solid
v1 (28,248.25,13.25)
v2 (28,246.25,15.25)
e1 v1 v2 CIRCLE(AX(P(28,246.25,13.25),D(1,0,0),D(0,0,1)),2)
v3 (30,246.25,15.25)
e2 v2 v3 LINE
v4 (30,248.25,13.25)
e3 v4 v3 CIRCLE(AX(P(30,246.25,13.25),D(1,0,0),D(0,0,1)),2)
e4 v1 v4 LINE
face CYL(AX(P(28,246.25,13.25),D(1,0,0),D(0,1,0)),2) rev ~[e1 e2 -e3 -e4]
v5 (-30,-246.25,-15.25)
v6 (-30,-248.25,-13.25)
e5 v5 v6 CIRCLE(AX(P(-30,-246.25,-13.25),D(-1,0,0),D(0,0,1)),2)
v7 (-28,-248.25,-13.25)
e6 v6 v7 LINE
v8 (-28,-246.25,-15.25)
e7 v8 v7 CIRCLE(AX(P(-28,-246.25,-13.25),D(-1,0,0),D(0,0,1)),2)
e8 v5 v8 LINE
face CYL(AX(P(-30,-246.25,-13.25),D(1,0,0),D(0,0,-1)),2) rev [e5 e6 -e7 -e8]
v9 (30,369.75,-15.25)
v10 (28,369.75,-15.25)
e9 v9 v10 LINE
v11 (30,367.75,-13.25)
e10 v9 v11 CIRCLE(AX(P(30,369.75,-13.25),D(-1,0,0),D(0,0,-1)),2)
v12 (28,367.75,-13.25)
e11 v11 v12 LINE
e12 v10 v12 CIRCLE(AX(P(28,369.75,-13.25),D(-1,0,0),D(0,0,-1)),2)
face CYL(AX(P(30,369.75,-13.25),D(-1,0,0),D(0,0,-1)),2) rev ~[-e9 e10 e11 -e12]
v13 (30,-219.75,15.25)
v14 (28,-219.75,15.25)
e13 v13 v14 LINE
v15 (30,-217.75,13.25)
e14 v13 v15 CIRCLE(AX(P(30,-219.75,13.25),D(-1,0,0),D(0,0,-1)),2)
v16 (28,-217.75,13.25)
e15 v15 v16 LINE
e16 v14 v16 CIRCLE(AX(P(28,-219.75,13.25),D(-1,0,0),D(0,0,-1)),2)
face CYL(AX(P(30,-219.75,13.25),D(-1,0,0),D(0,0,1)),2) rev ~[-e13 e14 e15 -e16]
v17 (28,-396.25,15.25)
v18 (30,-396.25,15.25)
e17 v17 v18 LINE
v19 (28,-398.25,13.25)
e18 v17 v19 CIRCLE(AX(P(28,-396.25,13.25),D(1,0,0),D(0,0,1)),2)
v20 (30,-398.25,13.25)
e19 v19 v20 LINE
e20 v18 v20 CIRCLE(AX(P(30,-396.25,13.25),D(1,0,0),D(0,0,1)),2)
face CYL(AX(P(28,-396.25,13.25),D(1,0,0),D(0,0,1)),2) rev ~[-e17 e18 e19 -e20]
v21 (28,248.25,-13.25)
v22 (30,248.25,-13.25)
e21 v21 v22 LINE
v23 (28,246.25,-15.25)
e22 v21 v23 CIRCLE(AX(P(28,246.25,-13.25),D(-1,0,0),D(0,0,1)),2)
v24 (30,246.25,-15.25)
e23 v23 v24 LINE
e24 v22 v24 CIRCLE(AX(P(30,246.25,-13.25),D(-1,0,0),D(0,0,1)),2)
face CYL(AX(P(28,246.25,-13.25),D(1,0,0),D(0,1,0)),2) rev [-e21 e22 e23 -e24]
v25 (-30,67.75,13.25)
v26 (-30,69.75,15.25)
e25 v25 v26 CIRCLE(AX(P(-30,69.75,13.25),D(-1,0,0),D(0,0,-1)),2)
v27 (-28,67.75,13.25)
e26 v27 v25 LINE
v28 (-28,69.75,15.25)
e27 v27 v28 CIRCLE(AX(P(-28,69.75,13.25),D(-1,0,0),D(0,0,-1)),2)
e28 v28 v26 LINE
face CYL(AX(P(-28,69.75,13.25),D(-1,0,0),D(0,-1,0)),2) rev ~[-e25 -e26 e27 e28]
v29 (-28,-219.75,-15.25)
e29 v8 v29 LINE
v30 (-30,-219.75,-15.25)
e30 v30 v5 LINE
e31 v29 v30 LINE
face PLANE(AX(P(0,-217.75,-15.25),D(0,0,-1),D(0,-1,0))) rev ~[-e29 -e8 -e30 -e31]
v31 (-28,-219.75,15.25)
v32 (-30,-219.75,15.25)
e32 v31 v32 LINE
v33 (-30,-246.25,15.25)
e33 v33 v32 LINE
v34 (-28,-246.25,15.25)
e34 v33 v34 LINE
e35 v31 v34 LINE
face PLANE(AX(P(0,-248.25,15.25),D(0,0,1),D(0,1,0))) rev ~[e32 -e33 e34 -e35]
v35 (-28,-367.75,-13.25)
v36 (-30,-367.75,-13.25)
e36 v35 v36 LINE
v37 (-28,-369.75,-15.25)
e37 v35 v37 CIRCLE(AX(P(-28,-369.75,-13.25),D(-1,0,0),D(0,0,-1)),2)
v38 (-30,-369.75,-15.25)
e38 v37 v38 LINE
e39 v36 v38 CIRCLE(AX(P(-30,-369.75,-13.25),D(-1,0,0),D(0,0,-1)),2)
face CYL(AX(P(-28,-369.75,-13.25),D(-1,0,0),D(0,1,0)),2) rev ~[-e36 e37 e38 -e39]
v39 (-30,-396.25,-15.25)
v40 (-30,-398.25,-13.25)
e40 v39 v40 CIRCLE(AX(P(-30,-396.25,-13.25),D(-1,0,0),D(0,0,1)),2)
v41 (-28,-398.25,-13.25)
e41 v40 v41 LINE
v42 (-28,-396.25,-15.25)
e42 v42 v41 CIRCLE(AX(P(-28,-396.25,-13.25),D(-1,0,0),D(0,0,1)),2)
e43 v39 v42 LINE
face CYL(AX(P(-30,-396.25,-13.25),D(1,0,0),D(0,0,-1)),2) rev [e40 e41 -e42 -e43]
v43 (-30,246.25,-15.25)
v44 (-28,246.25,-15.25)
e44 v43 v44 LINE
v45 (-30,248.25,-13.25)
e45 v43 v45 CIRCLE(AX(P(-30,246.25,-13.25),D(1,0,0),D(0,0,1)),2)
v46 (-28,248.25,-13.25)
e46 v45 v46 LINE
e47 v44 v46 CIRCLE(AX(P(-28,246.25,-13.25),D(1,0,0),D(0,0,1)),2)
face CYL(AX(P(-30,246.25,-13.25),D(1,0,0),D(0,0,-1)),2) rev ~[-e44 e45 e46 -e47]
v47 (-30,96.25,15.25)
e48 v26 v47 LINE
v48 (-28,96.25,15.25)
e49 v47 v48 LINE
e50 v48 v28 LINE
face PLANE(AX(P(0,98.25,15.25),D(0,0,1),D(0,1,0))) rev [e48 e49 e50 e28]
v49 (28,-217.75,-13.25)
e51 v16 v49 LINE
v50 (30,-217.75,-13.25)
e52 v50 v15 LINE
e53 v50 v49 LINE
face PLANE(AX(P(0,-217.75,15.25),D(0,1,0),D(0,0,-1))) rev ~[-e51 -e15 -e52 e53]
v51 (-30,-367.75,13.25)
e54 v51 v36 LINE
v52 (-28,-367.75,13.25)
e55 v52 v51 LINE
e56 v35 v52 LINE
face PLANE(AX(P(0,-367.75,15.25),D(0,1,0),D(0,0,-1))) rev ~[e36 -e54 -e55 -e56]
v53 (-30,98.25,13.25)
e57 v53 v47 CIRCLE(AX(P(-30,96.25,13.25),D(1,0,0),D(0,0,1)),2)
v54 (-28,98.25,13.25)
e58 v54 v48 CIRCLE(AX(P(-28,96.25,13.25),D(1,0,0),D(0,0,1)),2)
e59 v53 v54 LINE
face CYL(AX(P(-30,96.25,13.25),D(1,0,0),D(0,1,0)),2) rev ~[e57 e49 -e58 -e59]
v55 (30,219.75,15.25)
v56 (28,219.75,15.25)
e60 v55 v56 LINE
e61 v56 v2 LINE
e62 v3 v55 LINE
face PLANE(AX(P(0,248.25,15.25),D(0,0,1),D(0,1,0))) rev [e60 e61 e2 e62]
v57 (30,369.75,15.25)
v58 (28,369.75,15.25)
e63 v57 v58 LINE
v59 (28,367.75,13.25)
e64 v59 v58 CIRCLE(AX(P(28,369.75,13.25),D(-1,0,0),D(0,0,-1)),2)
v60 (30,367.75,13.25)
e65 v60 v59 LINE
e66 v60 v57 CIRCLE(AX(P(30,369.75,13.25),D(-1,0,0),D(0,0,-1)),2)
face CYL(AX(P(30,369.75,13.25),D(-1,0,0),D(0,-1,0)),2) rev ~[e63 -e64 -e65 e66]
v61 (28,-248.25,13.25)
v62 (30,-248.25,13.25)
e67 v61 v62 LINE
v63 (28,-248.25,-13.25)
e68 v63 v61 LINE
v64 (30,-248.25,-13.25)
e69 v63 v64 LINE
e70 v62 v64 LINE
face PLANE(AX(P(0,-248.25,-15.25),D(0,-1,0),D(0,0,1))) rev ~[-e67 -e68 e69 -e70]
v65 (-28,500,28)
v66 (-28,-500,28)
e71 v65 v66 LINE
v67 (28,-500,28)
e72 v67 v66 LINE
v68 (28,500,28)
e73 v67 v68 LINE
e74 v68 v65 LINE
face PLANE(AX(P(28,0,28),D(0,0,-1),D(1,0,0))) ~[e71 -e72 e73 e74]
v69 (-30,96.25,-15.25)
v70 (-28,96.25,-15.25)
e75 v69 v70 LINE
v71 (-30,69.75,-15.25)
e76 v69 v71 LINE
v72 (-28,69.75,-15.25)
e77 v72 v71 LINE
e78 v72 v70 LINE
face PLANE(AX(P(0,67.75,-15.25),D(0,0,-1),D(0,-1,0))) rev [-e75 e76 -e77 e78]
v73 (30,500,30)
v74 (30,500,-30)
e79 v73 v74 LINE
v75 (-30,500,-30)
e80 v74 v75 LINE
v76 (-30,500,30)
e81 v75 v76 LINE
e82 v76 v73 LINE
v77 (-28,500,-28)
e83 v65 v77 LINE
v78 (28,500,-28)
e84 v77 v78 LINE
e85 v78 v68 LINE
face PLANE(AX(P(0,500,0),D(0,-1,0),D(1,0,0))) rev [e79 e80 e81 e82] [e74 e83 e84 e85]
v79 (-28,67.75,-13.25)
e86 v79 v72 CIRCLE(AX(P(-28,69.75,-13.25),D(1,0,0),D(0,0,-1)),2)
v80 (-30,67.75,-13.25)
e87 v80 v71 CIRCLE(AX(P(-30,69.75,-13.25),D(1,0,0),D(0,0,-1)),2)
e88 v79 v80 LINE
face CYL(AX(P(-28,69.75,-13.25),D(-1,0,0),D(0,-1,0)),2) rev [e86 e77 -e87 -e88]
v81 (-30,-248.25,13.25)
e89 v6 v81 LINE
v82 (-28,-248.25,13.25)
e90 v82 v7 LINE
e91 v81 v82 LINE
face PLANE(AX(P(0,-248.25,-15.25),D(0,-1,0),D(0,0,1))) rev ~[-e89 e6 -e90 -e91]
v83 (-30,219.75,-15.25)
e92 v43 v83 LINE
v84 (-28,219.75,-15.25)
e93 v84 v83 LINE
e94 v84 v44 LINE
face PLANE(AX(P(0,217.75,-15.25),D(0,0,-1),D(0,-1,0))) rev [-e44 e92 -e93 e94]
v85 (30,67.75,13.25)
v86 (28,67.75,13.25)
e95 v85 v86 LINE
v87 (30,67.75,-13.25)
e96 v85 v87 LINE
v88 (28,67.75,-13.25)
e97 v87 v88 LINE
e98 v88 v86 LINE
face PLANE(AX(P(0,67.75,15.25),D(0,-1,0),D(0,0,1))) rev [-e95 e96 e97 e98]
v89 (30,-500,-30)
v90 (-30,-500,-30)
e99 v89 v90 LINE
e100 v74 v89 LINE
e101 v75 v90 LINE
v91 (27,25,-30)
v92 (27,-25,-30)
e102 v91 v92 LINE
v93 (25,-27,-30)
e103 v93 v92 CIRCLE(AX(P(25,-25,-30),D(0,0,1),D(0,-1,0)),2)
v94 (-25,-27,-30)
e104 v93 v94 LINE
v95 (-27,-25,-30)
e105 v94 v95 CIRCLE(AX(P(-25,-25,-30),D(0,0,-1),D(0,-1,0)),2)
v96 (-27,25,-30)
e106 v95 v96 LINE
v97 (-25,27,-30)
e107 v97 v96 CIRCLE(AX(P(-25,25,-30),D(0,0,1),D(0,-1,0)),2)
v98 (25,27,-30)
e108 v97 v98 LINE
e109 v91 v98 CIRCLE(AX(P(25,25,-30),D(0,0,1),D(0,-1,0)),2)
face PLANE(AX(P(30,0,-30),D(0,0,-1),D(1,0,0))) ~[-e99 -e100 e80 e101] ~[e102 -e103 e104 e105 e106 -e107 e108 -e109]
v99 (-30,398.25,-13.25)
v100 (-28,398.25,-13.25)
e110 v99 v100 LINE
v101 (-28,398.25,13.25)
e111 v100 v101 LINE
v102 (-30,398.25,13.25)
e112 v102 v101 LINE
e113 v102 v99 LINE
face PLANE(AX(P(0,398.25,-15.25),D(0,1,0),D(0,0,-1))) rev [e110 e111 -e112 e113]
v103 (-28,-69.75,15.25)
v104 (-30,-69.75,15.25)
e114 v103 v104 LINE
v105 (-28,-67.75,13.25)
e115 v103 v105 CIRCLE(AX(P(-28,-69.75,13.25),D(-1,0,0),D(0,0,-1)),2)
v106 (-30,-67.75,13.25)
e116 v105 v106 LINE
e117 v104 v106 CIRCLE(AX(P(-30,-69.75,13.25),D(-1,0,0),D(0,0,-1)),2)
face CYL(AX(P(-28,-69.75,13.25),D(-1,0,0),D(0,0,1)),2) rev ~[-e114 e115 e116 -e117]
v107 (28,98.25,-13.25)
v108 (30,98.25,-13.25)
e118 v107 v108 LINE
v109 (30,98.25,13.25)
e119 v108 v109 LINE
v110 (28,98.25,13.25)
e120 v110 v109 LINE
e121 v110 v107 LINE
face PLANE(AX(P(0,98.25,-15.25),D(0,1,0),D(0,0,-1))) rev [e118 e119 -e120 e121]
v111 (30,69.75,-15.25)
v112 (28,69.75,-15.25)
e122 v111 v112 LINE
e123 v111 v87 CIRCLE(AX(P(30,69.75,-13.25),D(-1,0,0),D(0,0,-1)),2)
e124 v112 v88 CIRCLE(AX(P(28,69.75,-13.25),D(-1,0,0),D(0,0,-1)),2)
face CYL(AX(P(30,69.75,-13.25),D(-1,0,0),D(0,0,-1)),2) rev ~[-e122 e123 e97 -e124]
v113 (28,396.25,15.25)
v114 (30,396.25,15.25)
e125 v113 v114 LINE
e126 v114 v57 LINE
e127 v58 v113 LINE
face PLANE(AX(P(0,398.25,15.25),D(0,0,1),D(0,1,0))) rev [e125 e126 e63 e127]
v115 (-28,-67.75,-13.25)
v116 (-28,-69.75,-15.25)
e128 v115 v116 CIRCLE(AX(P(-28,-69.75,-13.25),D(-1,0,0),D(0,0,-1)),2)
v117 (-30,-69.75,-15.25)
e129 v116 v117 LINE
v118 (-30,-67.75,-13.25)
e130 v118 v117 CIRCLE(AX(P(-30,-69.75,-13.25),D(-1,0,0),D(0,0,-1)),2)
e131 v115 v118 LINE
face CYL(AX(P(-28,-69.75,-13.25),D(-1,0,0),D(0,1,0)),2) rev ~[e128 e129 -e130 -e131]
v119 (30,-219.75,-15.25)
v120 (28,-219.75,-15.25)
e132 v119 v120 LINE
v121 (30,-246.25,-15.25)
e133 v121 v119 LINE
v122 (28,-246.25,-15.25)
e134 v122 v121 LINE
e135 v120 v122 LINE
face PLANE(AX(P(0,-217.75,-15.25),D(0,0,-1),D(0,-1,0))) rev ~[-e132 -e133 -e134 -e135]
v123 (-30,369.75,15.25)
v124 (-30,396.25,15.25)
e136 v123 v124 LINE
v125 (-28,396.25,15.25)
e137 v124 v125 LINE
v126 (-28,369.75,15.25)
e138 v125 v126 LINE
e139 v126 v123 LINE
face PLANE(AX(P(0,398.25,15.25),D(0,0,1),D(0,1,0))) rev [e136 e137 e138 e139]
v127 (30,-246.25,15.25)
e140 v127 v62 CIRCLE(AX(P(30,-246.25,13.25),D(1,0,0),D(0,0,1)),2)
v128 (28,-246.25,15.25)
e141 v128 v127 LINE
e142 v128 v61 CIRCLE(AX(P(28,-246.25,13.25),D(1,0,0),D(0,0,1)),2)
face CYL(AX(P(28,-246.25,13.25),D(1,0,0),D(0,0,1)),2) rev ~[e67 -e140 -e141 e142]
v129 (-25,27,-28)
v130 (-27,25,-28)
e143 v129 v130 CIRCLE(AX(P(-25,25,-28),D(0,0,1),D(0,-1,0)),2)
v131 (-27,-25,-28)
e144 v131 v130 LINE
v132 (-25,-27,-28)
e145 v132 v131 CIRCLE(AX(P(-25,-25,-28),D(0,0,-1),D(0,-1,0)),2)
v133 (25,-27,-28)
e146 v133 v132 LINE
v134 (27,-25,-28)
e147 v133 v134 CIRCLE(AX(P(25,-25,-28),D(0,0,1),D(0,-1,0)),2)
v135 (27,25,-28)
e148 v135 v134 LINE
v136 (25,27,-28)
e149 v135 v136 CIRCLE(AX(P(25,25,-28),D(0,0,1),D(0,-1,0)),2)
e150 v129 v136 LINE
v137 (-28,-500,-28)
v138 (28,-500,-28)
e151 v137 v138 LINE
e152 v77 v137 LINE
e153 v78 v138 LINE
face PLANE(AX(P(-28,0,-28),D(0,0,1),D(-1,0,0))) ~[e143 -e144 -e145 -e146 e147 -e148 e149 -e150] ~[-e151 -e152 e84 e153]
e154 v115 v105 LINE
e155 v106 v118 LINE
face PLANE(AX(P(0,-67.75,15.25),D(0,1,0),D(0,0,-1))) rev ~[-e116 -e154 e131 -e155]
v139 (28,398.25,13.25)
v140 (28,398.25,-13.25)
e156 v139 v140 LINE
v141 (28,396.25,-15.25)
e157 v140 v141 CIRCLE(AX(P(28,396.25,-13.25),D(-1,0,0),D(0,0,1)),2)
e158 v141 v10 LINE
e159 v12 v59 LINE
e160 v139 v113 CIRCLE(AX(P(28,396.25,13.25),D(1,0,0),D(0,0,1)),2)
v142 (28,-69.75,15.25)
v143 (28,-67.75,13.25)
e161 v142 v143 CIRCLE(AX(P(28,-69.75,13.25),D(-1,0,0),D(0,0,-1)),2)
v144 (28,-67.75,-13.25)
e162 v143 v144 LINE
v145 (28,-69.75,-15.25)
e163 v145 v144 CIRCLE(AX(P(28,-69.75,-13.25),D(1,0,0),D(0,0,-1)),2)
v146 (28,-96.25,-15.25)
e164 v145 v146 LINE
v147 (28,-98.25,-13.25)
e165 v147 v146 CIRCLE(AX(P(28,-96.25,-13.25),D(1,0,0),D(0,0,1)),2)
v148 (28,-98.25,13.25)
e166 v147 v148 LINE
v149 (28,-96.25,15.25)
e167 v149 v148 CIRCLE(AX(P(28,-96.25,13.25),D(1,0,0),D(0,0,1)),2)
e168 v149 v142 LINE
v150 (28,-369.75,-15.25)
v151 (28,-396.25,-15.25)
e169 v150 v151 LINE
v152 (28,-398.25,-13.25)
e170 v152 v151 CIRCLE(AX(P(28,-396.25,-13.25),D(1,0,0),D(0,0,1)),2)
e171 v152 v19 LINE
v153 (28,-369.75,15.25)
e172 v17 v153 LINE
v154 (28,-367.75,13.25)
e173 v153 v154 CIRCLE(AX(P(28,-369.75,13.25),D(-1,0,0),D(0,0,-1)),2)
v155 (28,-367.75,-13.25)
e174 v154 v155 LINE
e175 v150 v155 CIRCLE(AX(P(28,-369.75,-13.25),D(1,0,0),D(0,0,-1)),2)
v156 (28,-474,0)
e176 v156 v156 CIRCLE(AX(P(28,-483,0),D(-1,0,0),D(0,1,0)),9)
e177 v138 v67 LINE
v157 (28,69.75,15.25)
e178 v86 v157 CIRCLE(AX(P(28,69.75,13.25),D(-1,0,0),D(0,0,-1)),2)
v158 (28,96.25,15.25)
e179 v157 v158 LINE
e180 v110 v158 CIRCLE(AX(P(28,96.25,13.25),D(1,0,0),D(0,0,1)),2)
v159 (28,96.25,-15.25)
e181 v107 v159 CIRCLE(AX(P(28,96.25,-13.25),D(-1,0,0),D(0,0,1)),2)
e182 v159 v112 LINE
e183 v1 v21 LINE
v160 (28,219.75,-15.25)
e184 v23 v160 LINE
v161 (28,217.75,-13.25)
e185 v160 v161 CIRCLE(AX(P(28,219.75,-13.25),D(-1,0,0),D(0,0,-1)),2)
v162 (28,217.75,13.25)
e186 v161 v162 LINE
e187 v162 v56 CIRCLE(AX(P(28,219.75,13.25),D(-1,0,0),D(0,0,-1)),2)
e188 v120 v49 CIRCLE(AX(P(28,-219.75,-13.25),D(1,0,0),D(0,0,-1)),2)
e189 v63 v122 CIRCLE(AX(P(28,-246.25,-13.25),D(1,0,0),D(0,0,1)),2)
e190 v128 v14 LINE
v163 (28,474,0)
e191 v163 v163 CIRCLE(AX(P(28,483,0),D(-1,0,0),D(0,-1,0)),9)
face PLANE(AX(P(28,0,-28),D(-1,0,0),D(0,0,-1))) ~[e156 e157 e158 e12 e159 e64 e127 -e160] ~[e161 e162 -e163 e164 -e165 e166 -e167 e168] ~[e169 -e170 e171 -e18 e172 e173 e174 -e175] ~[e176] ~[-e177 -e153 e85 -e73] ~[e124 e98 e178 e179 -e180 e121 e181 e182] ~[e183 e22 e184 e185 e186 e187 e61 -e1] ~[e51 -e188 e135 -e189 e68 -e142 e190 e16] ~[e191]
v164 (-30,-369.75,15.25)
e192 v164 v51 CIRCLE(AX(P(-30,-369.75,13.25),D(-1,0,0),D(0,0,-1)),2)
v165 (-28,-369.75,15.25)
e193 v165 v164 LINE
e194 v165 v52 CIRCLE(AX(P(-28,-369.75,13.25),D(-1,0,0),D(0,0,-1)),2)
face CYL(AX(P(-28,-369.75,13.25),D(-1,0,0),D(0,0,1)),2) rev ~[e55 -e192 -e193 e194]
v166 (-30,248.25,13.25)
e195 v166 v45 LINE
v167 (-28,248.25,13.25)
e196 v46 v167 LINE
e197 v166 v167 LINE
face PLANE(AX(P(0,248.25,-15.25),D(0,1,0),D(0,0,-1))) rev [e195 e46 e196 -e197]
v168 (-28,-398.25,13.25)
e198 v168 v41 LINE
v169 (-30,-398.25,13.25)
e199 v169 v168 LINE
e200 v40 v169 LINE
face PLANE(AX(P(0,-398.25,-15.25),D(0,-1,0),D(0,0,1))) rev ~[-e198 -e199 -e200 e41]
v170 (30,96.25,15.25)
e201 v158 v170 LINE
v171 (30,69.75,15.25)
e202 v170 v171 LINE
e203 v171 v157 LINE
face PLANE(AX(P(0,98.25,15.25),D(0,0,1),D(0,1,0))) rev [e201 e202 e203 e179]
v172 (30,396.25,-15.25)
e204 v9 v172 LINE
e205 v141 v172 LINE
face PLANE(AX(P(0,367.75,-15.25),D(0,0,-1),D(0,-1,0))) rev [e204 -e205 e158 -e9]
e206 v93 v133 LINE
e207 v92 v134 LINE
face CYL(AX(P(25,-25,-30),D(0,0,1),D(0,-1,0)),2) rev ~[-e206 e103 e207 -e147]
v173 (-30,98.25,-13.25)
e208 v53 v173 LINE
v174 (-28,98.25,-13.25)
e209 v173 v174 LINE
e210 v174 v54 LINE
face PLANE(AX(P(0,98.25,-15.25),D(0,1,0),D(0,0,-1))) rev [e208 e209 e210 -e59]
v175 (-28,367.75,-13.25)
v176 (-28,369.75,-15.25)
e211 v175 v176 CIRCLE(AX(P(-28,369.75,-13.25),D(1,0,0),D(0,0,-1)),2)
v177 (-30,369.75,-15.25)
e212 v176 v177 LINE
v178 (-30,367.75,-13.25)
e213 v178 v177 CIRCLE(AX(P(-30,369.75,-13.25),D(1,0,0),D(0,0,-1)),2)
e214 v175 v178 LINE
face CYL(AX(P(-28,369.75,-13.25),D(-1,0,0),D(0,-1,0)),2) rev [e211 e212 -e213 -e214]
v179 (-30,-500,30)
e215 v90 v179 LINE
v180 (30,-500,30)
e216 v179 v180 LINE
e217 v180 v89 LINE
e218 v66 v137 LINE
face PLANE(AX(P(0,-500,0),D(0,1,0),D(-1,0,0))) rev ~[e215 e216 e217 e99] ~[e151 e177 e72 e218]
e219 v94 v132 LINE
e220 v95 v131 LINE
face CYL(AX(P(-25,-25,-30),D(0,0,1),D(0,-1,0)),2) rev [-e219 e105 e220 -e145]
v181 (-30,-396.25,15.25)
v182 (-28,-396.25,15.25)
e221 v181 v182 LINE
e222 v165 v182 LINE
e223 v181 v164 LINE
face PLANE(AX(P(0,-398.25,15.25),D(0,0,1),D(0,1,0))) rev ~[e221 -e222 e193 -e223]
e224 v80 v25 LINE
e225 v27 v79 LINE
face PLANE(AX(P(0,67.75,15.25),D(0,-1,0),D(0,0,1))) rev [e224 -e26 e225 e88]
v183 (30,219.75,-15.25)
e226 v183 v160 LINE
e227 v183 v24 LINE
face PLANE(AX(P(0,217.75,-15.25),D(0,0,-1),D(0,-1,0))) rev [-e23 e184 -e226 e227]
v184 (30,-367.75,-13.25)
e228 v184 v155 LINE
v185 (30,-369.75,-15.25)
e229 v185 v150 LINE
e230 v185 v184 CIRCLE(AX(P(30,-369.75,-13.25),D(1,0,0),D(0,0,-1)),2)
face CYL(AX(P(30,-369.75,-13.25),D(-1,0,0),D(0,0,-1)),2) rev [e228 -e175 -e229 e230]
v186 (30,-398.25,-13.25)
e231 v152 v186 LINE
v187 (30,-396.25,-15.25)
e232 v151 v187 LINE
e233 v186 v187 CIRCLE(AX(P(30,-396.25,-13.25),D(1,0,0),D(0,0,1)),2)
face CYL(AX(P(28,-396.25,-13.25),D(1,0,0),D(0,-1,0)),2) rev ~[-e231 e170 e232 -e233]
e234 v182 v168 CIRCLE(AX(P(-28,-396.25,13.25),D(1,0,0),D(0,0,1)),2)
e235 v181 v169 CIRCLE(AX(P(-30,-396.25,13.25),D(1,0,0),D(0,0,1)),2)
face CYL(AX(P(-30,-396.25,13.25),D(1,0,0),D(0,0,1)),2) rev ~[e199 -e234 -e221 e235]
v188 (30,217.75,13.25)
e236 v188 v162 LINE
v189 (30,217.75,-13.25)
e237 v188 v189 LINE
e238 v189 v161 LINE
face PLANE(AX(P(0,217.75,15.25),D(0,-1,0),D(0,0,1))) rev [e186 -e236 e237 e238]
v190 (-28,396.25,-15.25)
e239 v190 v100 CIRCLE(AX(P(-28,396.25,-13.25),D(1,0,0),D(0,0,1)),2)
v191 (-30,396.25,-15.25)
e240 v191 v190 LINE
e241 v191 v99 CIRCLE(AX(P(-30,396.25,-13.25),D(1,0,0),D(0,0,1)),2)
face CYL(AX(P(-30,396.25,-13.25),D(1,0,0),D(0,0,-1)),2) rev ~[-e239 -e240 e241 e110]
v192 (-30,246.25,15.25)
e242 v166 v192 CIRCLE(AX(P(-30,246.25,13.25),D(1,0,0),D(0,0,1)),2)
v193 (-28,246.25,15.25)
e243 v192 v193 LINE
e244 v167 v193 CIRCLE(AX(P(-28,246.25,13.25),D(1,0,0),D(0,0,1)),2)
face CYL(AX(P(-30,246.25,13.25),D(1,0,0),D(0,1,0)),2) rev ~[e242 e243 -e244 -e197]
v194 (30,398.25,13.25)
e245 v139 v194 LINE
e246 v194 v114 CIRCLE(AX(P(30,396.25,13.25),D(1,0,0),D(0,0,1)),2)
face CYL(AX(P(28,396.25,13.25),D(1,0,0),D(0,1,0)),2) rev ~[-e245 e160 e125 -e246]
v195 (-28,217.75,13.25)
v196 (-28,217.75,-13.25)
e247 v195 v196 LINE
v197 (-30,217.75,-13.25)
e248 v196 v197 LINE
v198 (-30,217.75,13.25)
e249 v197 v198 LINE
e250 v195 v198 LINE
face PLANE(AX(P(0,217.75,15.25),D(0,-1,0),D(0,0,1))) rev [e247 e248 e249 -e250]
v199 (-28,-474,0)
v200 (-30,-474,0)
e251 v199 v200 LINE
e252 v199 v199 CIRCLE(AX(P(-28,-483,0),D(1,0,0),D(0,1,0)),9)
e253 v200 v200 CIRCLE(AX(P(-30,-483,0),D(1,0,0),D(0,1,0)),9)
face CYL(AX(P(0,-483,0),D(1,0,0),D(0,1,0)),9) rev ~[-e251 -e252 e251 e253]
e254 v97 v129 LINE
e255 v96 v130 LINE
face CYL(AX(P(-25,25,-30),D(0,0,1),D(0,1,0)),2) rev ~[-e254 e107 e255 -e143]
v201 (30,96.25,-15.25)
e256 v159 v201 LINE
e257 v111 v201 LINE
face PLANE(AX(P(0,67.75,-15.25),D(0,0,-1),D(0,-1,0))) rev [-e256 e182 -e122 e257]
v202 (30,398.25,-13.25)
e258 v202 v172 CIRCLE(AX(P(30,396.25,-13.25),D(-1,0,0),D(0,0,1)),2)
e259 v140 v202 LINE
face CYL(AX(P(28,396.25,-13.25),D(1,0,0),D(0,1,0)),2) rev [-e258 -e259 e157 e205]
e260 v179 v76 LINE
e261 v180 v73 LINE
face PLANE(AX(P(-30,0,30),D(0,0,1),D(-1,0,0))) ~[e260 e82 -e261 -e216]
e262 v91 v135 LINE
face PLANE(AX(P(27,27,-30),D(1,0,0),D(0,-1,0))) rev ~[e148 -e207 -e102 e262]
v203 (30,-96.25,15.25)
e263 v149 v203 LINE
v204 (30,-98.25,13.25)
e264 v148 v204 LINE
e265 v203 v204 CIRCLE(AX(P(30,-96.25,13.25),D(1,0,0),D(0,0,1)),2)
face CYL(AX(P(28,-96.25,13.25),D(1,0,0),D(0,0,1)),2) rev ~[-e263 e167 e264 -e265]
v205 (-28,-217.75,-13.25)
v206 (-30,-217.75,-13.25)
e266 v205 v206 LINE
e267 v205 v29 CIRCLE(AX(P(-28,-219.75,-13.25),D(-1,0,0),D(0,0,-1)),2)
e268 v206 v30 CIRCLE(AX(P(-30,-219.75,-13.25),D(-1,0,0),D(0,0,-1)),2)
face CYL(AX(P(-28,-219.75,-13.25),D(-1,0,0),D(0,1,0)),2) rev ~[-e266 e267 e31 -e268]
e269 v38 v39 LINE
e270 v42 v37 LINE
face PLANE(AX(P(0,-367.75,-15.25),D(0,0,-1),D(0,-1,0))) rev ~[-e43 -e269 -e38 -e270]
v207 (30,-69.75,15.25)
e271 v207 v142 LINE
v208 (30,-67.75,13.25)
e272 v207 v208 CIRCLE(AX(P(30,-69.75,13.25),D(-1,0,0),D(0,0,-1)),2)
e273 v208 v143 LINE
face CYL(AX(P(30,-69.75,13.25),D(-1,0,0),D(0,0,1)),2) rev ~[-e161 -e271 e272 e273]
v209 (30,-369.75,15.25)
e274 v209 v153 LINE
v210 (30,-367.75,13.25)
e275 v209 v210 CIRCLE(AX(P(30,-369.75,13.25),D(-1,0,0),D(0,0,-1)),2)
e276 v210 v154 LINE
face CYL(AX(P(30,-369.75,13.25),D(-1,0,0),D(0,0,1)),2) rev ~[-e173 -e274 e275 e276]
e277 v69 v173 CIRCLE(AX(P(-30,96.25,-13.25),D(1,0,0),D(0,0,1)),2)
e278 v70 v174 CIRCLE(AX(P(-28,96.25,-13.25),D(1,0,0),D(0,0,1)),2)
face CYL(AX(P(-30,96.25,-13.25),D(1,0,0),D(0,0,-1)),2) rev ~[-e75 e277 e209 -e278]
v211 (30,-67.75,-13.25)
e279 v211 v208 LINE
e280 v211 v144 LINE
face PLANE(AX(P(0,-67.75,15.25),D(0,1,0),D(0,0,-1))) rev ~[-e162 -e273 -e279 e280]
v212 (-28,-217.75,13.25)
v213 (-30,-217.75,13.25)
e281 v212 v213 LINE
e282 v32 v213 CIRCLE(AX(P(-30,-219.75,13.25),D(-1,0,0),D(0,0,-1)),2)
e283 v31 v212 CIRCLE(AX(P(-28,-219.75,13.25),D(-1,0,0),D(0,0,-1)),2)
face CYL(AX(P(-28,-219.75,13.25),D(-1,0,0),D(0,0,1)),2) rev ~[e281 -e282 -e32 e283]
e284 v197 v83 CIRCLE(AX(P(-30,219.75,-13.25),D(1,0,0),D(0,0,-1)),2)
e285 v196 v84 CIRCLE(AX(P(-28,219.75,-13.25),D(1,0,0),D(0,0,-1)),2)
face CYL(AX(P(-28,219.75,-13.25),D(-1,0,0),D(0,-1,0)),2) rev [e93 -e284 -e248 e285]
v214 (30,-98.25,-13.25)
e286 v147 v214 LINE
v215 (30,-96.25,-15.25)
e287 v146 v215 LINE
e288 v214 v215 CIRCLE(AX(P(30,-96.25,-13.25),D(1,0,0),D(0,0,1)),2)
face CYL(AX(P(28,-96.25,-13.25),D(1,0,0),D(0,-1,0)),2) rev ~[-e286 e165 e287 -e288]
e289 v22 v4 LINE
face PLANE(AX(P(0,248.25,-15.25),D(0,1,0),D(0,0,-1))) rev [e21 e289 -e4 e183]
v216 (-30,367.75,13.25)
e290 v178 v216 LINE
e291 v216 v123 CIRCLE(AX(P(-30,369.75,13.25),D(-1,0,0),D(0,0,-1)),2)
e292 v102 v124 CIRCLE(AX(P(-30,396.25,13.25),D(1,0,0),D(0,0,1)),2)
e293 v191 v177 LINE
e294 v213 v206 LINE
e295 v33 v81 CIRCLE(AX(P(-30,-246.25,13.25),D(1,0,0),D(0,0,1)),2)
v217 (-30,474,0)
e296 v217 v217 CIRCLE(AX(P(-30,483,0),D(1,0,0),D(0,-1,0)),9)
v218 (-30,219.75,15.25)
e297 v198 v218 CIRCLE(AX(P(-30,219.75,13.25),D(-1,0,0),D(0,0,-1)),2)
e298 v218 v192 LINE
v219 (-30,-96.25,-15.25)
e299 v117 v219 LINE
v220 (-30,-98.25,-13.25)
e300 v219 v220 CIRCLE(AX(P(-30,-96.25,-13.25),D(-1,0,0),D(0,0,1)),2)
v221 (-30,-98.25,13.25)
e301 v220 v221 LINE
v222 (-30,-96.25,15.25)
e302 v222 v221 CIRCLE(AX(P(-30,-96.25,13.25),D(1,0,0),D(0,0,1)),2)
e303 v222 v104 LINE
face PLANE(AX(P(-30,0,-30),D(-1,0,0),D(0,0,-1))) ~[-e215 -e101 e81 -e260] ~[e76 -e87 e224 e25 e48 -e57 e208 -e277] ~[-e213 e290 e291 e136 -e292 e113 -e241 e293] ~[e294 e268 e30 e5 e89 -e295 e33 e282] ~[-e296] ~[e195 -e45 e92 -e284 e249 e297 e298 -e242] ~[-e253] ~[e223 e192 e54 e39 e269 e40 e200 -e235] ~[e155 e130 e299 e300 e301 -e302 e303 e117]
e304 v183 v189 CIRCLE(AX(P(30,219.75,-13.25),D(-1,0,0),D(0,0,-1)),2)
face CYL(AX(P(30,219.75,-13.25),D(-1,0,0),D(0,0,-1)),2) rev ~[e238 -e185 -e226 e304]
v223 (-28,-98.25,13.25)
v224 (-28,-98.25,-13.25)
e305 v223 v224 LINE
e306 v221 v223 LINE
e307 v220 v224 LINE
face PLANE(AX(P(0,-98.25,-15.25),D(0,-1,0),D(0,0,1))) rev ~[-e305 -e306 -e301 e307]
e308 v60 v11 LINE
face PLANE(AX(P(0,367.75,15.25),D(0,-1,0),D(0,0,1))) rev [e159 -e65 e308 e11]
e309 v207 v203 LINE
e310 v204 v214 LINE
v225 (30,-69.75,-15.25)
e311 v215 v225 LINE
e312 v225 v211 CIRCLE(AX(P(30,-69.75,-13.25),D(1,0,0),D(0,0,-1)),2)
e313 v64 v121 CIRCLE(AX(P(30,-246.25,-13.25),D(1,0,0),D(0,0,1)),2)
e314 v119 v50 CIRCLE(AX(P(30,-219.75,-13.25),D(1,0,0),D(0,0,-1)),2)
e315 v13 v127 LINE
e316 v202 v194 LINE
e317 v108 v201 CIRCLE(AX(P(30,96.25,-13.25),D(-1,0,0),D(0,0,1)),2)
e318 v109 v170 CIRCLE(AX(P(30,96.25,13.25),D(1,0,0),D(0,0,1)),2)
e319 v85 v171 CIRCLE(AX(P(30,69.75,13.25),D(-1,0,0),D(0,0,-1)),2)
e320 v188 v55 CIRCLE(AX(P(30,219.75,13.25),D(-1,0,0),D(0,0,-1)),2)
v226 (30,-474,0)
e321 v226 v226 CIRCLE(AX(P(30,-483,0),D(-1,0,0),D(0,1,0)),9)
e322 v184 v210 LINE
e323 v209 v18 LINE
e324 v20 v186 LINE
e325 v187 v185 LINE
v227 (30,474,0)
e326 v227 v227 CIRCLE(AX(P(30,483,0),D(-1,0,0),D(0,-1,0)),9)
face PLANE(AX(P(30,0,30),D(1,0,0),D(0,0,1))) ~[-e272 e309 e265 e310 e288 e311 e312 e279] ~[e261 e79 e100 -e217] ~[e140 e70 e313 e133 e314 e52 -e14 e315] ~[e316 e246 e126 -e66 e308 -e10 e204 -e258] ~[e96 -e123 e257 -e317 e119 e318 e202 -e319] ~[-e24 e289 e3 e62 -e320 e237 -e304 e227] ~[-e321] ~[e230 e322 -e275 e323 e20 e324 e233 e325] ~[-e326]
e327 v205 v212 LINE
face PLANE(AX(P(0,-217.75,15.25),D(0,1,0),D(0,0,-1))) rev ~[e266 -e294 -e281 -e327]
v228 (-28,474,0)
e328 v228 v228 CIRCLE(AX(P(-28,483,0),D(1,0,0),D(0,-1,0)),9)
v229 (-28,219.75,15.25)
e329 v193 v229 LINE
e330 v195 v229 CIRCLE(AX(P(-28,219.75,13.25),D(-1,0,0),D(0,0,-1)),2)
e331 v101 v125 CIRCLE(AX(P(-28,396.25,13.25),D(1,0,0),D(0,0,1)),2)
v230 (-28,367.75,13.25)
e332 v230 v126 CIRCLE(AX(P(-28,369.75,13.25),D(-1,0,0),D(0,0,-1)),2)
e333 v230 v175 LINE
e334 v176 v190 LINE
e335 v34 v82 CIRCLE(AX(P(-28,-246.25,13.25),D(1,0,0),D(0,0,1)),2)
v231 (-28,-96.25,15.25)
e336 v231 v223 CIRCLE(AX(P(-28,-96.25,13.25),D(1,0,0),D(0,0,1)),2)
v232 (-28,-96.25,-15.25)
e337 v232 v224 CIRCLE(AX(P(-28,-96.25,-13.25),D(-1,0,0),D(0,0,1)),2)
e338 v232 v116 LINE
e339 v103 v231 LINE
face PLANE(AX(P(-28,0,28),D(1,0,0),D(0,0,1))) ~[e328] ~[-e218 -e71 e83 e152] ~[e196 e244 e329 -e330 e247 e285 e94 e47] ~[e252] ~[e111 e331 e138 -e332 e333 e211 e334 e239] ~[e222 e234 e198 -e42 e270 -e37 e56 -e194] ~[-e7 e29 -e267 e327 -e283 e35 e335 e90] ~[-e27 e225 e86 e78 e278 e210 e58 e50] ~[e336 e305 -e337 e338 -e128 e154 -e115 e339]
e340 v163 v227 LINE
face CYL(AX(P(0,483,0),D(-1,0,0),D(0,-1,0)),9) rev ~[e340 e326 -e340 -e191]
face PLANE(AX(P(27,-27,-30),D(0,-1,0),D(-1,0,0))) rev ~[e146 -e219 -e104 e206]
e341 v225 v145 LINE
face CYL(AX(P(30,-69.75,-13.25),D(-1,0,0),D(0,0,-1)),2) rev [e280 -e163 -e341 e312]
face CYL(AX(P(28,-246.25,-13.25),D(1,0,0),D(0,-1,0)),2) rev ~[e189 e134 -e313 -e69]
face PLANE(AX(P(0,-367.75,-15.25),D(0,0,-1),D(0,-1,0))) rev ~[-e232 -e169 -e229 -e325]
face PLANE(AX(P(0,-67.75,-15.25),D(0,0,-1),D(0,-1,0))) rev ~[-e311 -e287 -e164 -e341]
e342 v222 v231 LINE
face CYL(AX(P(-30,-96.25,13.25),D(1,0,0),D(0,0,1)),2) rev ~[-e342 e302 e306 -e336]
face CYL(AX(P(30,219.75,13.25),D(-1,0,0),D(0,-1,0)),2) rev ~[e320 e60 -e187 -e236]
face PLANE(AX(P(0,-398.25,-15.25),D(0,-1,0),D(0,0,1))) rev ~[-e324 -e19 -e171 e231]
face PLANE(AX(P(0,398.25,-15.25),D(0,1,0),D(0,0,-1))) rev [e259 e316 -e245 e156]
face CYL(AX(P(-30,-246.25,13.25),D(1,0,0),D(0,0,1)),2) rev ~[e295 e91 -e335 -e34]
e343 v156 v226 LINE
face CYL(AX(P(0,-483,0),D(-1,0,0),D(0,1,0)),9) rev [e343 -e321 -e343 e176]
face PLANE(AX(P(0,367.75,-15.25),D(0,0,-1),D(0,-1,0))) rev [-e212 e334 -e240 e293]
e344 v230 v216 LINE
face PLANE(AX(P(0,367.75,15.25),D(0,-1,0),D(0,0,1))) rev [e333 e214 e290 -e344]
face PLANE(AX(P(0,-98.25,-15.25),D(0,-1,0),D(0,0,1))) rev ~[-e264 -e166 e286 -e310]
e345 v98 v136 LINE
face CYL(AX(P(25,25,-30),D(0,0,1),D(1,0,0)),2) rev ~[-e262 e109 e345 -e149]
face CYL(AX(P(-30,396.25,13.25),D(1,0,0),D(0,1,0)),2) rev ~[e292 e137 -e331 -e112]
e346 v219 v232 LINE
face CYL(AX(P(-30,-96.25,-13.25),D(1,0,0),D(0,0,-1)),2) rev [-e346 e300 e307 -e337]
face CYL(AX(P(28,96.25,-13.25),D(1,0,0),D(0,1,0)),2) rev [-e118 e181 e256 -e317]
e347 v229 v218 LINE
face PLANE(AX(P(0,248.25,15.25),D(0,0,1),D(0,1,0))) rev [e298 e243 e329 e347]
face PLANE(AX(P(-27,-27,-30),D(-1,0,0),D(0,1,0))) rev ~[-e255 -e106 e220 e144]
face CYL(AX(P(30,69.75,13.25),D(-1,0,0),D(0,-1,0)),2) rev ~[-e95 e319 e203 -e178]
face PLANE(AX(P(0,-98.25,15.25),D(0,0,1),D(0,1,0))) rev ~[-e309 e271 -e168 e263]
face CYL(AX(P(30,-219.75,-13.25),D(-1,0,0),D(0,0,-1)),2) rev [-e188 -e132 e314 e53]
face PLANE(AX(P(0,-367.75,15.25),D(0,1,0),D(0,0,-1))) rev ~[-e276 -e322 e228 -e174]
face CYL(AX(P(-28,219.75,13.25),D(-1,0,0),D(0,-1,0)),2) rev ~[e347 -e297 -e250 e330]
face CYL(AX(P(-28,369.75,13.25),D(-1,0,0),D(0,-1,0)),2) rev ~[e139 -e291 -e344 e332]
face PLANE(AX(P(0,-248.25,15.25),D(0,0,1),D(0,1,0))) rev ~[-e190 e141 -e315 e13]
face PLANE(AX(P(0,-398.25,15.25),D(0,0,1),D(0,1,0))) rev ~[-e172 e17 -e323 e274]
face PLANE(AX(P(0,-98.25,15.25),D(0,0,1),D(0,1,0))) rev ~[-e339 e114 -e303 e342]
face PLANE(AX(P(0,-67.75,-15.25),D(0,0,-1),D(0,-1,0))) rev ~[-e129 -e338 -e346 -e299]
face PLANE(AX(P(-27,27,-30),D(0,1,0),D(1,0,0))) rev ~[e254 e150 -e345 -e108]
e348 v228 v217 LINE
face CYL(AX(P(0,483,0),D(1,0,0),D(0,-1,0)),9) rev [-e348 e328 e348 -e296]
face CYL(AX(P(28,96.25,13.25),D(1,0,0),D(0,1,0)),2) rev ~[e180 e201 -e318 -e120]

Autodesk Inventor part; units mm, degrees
ref_plane "YZ Plane" through (0, 0, 0) normal (1, 0, 0) x (0, 1, 0)
ref_plane "XZ Plane" through (0, 0, 0) normal (0, 1, 0) x (-1, 0, 0)
ref_plane "XY Plane" through (0, 0, 0) normal (0, 0, 1) x (1, 0, 0)
sketch "Sketch9" plane through (0, 0, 0) normal (0, 1, 0) x (-1, 0, 0)
  line L0 (30, 30) -> (-30, 30)
  line L1 (-30, 30) -> (-30, -30)
  line L2 (-30, -30) -> (30, -30)
  line L3 (30, -30) -> (30, 30)
  line L4 (30, 30) -> (-30, -30) construction
  line L5 (-30, 30) -> (30, -30) construction
  line L6 (-28, 28) -> (28, 28)
  line L7 (28, 28) -> (28, -28)
  line L8 (28, -28) -> (-28, -28)
  line L9 (-28, -28) -> (-28, 28)
  point P0 (0, 0)
  dimension "d172" = 60
  dimension "d173" = 60
  dimension "d174" = 2
extrude "Extrusion3" add sketch "Sketch9" against normal blind 500
sketch "Sketch10" plane through (0, 0, 0) normal (1, 0, 0) x (0, 1, 0)
  line L0 (0, 30) -> (0, -30) construction
  line L1 (0, 30) -> (-500, 30) construction
  line L2 (-500, -30) -> (-500, 30) construction
  line L3 (0, -30) -> (-500, -30) construction
  line L4 (-98.25, 15.25) -> (-67.75, 15.25)
  line L5 (-67.75, 15.25) -> (-67.75, -15.25)
  line L6 (-67.75, -15.25) -> (-98.25, -15.25)
  line L7 (-98.25, -15.25) -> (-98.25, 15.25)
  line L8 (-98.25, 15.25) -> (-67.75, -15.25) construction
  line L9 (-67.75, 15.25) -> (-98.25, -15.25) construction
  line L10 (-248.25, 15.25) -> (-217.75, 15.25)
  line L11 (-217.75, 15.25) -> (-217.75, -15.25)
  line L12 (-217.75, -15.25) -> (-248.25, -15.25)
  line L13 (-248.25, -15.25) -> (-248.25, 15.25)
  line L14 (-248.25, 15.25) -> (-217.75, -15.25) construction
  line L15 (-217.75, 15.25) -> (-248.25, -15.25) construction
  line L16 (-398.25, 15.25) -> (-367.75, 15.25)
  line L17 (-367.75, 15.25) -> (-367.75, -15.25)
  line L18 (-367.75, -15.25) -> (-398.25, -15.25)
  line L19 (-398.25, -15.25) -> (-398.25, 15.25)
  line L20 (-398.25, 15.25) -> (-367.75, -15.25) construction
  line L21 (-367.75, 15.25) -> (-398.25, -15.25) construction
  circle A0 centre (-483, 0) radius 9
  line L22 (0, 0) -> (47, 0)
  point P0 (-83, 0)
  point P1 (-233, 0)
  point P2 (-383, 0)
  dimension "d177" = 30.5
  dimension "d178" = 30.5
  dimension "d181" = 47
  dimension "d182" = 130
  dimension "d183" = 280
  dimension "d184" = 430
  dimension "d185" = 530
  dimension "d186" = 18
extrude "Extrusion4" cut sketch "Sketch10" along normal through all both and the other way through all
fillet "Fillet1" radius 2 24 edges at (29, -367.75, -15.25) (29, -367.75, 15.25) (29, -398.25, 15.25) (29, -398.25, -15.25) (29, -248.25, -15.25) (29, -248.25, 15.25) (29, -217.75, 15.25) (29, -217.75, -15.25) (29, -98.25, 15.25) (29, -67.75, 15.25) (29, -67.75, -15.25) (29, -98.25, -15.25) (-29, -98.25, 15.25) (-29, -67.75, 15.25) (-29, -67.75, -15.25) (-29, -98.25, -15.25) (-29, -217.75, 15.25) (-29, -248.25, 15.25) (-29, -248.25, -15.25) (-29, -217.75, -15.25) (-29, -367.75, 15.25) (-29, -398.25, 15.25) (-29, -367.75, -15.25) (-29, -398.25, -15.25)
mirror "Mirror1" about plane through (0, 0, 0) normal (0, 1, 0) of "Extrusion3", "Extrusion4", "Fillet1"
sketch "Sketch14" plane through (30, -500, -30) normal (0, 0, -1) x (-1, 0, 0)
  line L0 (57, 527) -> (3, 527)
  line L1 (3, 527) -> (3, 473)
  line L2 (3, 473) -> (57, 473)
  line L3 (57, 473) -> (57, 527)
  line L4 (57, 527) -> (3, 473) construction
  line L5 (3, 527) -> (57, 473) construction
  point P0 (30, 500)
  dimension "d188" = 54
extrude "Extrusion5" cut sketch "Sketch14" against normal up to surface (2 mm away)
fillet "Fillet2" radius 2 4 edges at (-27, -27, -29) (-27, 27, -29) (27, -27, -29) (27, 27, -29)
sketch "Sketch15" plane through (30, -500, 30) normal (1, 0, 0) x (0, 0, -1)
  line L0 (43.25, 717.75) -> (16.75, 717.75) projected
  arc A0 (14.75, 719.75) -> (16.75, 717.75) centre (16.75, 719.75) ccw projected
  line L1 (14.75, 719.75) -> (14.75, 746.25) projected
  arc A1 (16.75, 748.25) -> (14.75, 746.25) centre (16.75, 746.25) ccw projected
  line L2 (16.75, 748.25) -> (43.25, 748.25) projected
  arc A2 (45.25, 746.25) -> (43.25, 748.25) centre (43.25, 746.25) ccw projected
  line L3 (45.25, 746.25) -> (45.25, 719.75) projected
  arc A3 (43.25, 717.75) -> (45.25, 719.75) centre (43.25, 719.75) ccw projected
  line L4 (16.75, 898.25) -> (43.25, 898.25) projected
  arc A4 (45.25, 896.25) -> (43.25, 898.25) centre (43.25, 896.25) ccw projected
  line L5 (45.25, 896.25) -> (45.25, 869.75) projected
  arc A5 (43.25, 867.75) -> (45.25, 869.75) centre (43.25, 869.75) ccw projected
  line L6 (43.25, 867.75) -> (16.75, 867.75) projected
  arc A6 (14.75, 869.75) -> (16.75, 867.75) centre (16.75, 869.75) ccw projected
  line L7 (14.75, 869.75) -> (14.75, 896.25) projected
  arc A7 (16.75, 898.25) -> (14.75, 896.25) centre (16.75, 896.25) ccw projected
  line L8 (16.75, 598.25) -> (43.25, 598.25) projected
  arc A8 (45.25, 596.25) -> (43.25, 598.25) centre (43.25, 596.25) ccw projected
  line L9 (45.25, 596.25) -> (45.25, 569.75) projected
  arc A9 (43.25, 567.75) -> (45.25, 569.75) centre (43.25, 569.75) ccw projected
  line L10 (43.25, 567.75) -> (16.75, 567.75) projected
  arc A10 (14.75, 569.75) -> (16.75, 567.75) centre (16.75, 569.75) ccw projected
  line L11 (14.75, 569.75) -> (14.75, 596.25) projected
  arc A11 (16.75, 598.25) -> (14.75, 596.25) centre (16.75, 596.25) ccw projected
  circle A12 centre (30, 983) radius 9 projected
  line L12 (43.25, 251.75) -> (16.75, 251.75) projected
  arc A13 (14.75, 253.75) -> (16.75, 251.75) centre (16.75, 253.75) ccw projected
  line L13 (14.75, 253.75) -> (14.75, 280.25) projected
  arc A14 (16.75, 282.25) -> (14.75, 280.25) centre (16.75, 280.25) ccw projected
  line L14 (16.75, 282.25) -> (43.25, 282.25) projected
  arc A15 (45.25, 280.25) -> (43.25, 282.25) centre (43.25, 280.25) ccw projected
  line L15 (45.25, 280.25) -> (45.25, 253.75) projected
  arc A16 (43.25, 251.75) -> (45.25, 253.75) centre (43.25, 253.75) ccw projected
  circle A17 centre (30, 17) radius 9 projected
  line L16 (43.25, 401.75) -> (16.75, 401.75) projected
  arc A18 (14.75, 403.75) -> (16.75, 401.75) centre (16.75, 403.75) ccw projected
  line L17 (14.75, 403.75) -> (14.75, 430.25) projected
  arc A19 (16.75, 432.25) -> (14.75, 430.25) centre (16.75, 430.25) ccw projected
  line L18 (16.75, 432.25) -> (43.25, 432.25) projected
  arc A20 (45.25, 430.25) -> (43.25, 432.25) centre (43.25, 430.25) ccw projected
  line L19 (45.25, 430.25) -> (45.25, 403.75) projected
  arc A21 (43.25, 401.75) -> (45.25, 403.75) centre (43.25, 403.75) ccw projected
  line L20 (43.25, 101.75) -> (16.75, 101.75) projected
  arc A22 (14.75, 103.75) -> (16.75, 101.75) centre (16.75, 103.75) ccw projected
  line L21 (14.75, 103.75) -> (14.75, 130.25) projected
  arc A23 (16.75, 132.25) -> (14.75, 130.25) centre (16.75, 130.25) ccw projected
  line L22 (16.75, 132.25) -> (43.25, 132.25) projected
  arc A24 (45.25, 130.25) -> (43.25, 132.25) centre (43.25, 130.25) ccw projected
  line L23 (45.25, 130.25) -> (45.25, 103.75) projected
  arc A25 (43.25, 101.75) -> (45.25, 103.75) centre (43.25, 103.75) ccw projected
  line L24 (0, 1000) -> (0, 0) projected
  line L25 (60, 0) -> (0, 0) projected
  line L26 (60, 0) -> (60, 1000) projected
  line L27 (60, 1000) -> (0, 1000) projected
  line L28 (16.75, 130.25) -> (43.25, 103.75)
  line L29 (16.75, 280.25) -> (43.25, 253.75)
  line L30 (16.75, 430.25) -> (43.25, 403.75)
  line L31 (16.75, 596.25) -> (43.25, 569.75)
  line L32 (16.75, 746.25) -> (43.25, 719.75)
  line L33 (16.75, 896.25) -> (43.25, 869.75)
  point P0 (30, 500)
sketch "Sketch16" plane through (-30, -500, -30) normal (-1, 0, 0) x (0, 0, 1)
  line L0 (45.25, 896.25) -> (45.25, 869.75) projected
  arc A0 (43.25, 867.75) -> (45.25, 869.75) centre (43.25, 869.75) ccw projected
  line L1 (43.25, 867.75) -> (16.75, 867.75) projected
  arc A1 (14.75, 869.75) -> (16.75, 867.75) centre (16.75, 869.75) ccw projected
  line L2 (14.75, 869.75) -> (14.75, 896.25) projected
  arc A2 (16.75, 898.25) -> (14.75, 896.25) centre (16.75, 896.25) ccw projected
  line L3 (16.75, 898.25) -> (43.25, 898.25) projected
  arc A3 (45.25, 896.25) -> (43.25, 898.25) centre (43.25, 896.25) ccw projected
  line L4 (43.25, 567.75) -> (16.75, 567.75) projected
  arc A4 (14.75, 569.75) -> (16.75, 567.75) centre (16.75, 569.75) ccw projected
  line L5 (14.75, 569.75) -> (14.75, 596.25) projected
  arc A5 (16.75, 598.25) -> (14.75, 596.25) centre (16.75, 596.25) ccw projected
  line L6 (16.75, 598.25) -> (43.25, 598.25) projected
  arc A6 (45.25, 596.25) -> (43.25, 598.25) centre (43.25, 596.25) ccw projected
  line L7 (45.25, 596.25) -> (45.25, 569.75) projected
  arc A7 (43.25, 567.75) -> (45.25, 569.75) centre (43.25, 569.75) ccw projected
  circle A8 centre (30, 983) radius 9 projected
  line L8 (43.25, 717.75) -> (16.75, 717.75) projected
  arc A9 (14.75, 719.75) -> (16.75, 717.75) centre (16.75, 719.75) ccw projected
  line L9 (14.75, 719.75) -> (14.75, 746.25) projected
  arc A10 (16.75, 748.25) -> (14.75, 746.25) centre (16.75, 746.25) ccw projected
  line L10 (16.75, 748.25) -> (43.25, 748.25) projected
  arc A11 (45.25, 746.25) -> (43.25, 748.25) centre (43.25, 746.25) ccw projected
  line L11 (45.25, 746.25) -> (45.25, 719.75) projected
  arc A12 (43.25, 717.75) -> (45.25, 719.75) centre (43.25, 719.75) ccw projected
  line L12 (43.25, 251.75) -> (16.75, 251.75) projected
  arc A13 (14.75, 253.75) -> (16.75, 251.75) centre (16.75, 253.75) ccw projected
  line L13 (14.75, 253.75) -> (14.75, 280.25) projected
  arc A14 (16.75, 282.25) -> (14.75, 280.25) centre (16.75, 280.25) ccw projected
  line L14 (16.75, 282.25) -> (43.25, 282.25) projected
  arc A15 (45.25, 280.25) -> (43.25, 282.25) centre (43.25, 280.25) ccw projected
  line L15 (45.25, 280.25) -> (45.25, 253.75) projected
  arc A16 (43.25, 251.75) -> (45.25, 253.75) centre (43.25, 253.75) ccw projected
  circle A17 centre (30, 17) radius 9 projected
  line L16 (43.25, 401.75) -> (16.75, 401.75) projected
  arc A18 (14.75, 403.75) -> (16.75, 401.75) centre (16.75, 403.75) ccw projected
  line L17 (14.75, 403.75) -> (14.75, 430.25) projected
  arc A19 (16.75, 432.25) -> (14.75, 430.25) centre (16.75, 430.25) ccw projected
  line L18 (16.75, 432.25) -> (43.25, 432.25) projected
  arc A20 (45.25, 430.25) -> (43.25, 432.25) centre (43.25, 430.25) ccw projected
  line L19 (45.25, 430.25) -> (45.25, 403.75) projected
  arc A21 (43.25, 401.75) -> (45.25, 403.75) centre (43.25, 403.75) ccw projected
  line L20 (43.25, 101.75) -> (16.75, 101.75) projected
  arc A22 (14.75, 103.75) -> (16.75, 101.75) centre (16.75, 103.75) ccw projected
  line L21 (14.75, 103.75) -> (14.75, 130.25) projected
  arc A23 (16.75, 132.25) -> (14.75, 130.25) centre (16.75, 130.25) ccw projected
  line L22 (16.75, 132.25) -> (43.25, 132.25) projected
  arc A24 (45.25, 130.25) -> (43.25, 132.25) centre (43.25, 130.25) ccw projected
  line L23 (45.25, 130.25) -> (45.25, 103.75) projected
  arc A25 (43.25, 101.75) -> (45.25, 103.75) centre (43.25, 103.75) ccw projected
  line L24 (0, 0) -> (0, 1000) projected
  line L25 (60, 0) -> (0, 0) projected
  line L26 (60, 0) -> (60, 1000) projected
  line L27 (60, 1000) -> (0, 1000) projected
  line L28 (43.25, 869.75) -> (16.75, 896.25)
  line L29 (43.25, 719.75) -> (16.75, 746.25)
  line L30 (43.25, 569.75) -> (16.75, 596.25)
  line L31 (43.25, 403.75) -> (16.75, 430.25)
  line L32 (43.25, 253.75) -> (16.75, 280.25)
  arc A26 (16.75, 132.25) -> (14.75, 130.25) centre (16.75, 130.25) ccw projected
  line L33 (43.25, 103.75) -> (16.75, 130.25)
  point P0 (30, 500)
properties part number "TZS 1761 FDS 1200x50 central way" material "Stainless Steel"
